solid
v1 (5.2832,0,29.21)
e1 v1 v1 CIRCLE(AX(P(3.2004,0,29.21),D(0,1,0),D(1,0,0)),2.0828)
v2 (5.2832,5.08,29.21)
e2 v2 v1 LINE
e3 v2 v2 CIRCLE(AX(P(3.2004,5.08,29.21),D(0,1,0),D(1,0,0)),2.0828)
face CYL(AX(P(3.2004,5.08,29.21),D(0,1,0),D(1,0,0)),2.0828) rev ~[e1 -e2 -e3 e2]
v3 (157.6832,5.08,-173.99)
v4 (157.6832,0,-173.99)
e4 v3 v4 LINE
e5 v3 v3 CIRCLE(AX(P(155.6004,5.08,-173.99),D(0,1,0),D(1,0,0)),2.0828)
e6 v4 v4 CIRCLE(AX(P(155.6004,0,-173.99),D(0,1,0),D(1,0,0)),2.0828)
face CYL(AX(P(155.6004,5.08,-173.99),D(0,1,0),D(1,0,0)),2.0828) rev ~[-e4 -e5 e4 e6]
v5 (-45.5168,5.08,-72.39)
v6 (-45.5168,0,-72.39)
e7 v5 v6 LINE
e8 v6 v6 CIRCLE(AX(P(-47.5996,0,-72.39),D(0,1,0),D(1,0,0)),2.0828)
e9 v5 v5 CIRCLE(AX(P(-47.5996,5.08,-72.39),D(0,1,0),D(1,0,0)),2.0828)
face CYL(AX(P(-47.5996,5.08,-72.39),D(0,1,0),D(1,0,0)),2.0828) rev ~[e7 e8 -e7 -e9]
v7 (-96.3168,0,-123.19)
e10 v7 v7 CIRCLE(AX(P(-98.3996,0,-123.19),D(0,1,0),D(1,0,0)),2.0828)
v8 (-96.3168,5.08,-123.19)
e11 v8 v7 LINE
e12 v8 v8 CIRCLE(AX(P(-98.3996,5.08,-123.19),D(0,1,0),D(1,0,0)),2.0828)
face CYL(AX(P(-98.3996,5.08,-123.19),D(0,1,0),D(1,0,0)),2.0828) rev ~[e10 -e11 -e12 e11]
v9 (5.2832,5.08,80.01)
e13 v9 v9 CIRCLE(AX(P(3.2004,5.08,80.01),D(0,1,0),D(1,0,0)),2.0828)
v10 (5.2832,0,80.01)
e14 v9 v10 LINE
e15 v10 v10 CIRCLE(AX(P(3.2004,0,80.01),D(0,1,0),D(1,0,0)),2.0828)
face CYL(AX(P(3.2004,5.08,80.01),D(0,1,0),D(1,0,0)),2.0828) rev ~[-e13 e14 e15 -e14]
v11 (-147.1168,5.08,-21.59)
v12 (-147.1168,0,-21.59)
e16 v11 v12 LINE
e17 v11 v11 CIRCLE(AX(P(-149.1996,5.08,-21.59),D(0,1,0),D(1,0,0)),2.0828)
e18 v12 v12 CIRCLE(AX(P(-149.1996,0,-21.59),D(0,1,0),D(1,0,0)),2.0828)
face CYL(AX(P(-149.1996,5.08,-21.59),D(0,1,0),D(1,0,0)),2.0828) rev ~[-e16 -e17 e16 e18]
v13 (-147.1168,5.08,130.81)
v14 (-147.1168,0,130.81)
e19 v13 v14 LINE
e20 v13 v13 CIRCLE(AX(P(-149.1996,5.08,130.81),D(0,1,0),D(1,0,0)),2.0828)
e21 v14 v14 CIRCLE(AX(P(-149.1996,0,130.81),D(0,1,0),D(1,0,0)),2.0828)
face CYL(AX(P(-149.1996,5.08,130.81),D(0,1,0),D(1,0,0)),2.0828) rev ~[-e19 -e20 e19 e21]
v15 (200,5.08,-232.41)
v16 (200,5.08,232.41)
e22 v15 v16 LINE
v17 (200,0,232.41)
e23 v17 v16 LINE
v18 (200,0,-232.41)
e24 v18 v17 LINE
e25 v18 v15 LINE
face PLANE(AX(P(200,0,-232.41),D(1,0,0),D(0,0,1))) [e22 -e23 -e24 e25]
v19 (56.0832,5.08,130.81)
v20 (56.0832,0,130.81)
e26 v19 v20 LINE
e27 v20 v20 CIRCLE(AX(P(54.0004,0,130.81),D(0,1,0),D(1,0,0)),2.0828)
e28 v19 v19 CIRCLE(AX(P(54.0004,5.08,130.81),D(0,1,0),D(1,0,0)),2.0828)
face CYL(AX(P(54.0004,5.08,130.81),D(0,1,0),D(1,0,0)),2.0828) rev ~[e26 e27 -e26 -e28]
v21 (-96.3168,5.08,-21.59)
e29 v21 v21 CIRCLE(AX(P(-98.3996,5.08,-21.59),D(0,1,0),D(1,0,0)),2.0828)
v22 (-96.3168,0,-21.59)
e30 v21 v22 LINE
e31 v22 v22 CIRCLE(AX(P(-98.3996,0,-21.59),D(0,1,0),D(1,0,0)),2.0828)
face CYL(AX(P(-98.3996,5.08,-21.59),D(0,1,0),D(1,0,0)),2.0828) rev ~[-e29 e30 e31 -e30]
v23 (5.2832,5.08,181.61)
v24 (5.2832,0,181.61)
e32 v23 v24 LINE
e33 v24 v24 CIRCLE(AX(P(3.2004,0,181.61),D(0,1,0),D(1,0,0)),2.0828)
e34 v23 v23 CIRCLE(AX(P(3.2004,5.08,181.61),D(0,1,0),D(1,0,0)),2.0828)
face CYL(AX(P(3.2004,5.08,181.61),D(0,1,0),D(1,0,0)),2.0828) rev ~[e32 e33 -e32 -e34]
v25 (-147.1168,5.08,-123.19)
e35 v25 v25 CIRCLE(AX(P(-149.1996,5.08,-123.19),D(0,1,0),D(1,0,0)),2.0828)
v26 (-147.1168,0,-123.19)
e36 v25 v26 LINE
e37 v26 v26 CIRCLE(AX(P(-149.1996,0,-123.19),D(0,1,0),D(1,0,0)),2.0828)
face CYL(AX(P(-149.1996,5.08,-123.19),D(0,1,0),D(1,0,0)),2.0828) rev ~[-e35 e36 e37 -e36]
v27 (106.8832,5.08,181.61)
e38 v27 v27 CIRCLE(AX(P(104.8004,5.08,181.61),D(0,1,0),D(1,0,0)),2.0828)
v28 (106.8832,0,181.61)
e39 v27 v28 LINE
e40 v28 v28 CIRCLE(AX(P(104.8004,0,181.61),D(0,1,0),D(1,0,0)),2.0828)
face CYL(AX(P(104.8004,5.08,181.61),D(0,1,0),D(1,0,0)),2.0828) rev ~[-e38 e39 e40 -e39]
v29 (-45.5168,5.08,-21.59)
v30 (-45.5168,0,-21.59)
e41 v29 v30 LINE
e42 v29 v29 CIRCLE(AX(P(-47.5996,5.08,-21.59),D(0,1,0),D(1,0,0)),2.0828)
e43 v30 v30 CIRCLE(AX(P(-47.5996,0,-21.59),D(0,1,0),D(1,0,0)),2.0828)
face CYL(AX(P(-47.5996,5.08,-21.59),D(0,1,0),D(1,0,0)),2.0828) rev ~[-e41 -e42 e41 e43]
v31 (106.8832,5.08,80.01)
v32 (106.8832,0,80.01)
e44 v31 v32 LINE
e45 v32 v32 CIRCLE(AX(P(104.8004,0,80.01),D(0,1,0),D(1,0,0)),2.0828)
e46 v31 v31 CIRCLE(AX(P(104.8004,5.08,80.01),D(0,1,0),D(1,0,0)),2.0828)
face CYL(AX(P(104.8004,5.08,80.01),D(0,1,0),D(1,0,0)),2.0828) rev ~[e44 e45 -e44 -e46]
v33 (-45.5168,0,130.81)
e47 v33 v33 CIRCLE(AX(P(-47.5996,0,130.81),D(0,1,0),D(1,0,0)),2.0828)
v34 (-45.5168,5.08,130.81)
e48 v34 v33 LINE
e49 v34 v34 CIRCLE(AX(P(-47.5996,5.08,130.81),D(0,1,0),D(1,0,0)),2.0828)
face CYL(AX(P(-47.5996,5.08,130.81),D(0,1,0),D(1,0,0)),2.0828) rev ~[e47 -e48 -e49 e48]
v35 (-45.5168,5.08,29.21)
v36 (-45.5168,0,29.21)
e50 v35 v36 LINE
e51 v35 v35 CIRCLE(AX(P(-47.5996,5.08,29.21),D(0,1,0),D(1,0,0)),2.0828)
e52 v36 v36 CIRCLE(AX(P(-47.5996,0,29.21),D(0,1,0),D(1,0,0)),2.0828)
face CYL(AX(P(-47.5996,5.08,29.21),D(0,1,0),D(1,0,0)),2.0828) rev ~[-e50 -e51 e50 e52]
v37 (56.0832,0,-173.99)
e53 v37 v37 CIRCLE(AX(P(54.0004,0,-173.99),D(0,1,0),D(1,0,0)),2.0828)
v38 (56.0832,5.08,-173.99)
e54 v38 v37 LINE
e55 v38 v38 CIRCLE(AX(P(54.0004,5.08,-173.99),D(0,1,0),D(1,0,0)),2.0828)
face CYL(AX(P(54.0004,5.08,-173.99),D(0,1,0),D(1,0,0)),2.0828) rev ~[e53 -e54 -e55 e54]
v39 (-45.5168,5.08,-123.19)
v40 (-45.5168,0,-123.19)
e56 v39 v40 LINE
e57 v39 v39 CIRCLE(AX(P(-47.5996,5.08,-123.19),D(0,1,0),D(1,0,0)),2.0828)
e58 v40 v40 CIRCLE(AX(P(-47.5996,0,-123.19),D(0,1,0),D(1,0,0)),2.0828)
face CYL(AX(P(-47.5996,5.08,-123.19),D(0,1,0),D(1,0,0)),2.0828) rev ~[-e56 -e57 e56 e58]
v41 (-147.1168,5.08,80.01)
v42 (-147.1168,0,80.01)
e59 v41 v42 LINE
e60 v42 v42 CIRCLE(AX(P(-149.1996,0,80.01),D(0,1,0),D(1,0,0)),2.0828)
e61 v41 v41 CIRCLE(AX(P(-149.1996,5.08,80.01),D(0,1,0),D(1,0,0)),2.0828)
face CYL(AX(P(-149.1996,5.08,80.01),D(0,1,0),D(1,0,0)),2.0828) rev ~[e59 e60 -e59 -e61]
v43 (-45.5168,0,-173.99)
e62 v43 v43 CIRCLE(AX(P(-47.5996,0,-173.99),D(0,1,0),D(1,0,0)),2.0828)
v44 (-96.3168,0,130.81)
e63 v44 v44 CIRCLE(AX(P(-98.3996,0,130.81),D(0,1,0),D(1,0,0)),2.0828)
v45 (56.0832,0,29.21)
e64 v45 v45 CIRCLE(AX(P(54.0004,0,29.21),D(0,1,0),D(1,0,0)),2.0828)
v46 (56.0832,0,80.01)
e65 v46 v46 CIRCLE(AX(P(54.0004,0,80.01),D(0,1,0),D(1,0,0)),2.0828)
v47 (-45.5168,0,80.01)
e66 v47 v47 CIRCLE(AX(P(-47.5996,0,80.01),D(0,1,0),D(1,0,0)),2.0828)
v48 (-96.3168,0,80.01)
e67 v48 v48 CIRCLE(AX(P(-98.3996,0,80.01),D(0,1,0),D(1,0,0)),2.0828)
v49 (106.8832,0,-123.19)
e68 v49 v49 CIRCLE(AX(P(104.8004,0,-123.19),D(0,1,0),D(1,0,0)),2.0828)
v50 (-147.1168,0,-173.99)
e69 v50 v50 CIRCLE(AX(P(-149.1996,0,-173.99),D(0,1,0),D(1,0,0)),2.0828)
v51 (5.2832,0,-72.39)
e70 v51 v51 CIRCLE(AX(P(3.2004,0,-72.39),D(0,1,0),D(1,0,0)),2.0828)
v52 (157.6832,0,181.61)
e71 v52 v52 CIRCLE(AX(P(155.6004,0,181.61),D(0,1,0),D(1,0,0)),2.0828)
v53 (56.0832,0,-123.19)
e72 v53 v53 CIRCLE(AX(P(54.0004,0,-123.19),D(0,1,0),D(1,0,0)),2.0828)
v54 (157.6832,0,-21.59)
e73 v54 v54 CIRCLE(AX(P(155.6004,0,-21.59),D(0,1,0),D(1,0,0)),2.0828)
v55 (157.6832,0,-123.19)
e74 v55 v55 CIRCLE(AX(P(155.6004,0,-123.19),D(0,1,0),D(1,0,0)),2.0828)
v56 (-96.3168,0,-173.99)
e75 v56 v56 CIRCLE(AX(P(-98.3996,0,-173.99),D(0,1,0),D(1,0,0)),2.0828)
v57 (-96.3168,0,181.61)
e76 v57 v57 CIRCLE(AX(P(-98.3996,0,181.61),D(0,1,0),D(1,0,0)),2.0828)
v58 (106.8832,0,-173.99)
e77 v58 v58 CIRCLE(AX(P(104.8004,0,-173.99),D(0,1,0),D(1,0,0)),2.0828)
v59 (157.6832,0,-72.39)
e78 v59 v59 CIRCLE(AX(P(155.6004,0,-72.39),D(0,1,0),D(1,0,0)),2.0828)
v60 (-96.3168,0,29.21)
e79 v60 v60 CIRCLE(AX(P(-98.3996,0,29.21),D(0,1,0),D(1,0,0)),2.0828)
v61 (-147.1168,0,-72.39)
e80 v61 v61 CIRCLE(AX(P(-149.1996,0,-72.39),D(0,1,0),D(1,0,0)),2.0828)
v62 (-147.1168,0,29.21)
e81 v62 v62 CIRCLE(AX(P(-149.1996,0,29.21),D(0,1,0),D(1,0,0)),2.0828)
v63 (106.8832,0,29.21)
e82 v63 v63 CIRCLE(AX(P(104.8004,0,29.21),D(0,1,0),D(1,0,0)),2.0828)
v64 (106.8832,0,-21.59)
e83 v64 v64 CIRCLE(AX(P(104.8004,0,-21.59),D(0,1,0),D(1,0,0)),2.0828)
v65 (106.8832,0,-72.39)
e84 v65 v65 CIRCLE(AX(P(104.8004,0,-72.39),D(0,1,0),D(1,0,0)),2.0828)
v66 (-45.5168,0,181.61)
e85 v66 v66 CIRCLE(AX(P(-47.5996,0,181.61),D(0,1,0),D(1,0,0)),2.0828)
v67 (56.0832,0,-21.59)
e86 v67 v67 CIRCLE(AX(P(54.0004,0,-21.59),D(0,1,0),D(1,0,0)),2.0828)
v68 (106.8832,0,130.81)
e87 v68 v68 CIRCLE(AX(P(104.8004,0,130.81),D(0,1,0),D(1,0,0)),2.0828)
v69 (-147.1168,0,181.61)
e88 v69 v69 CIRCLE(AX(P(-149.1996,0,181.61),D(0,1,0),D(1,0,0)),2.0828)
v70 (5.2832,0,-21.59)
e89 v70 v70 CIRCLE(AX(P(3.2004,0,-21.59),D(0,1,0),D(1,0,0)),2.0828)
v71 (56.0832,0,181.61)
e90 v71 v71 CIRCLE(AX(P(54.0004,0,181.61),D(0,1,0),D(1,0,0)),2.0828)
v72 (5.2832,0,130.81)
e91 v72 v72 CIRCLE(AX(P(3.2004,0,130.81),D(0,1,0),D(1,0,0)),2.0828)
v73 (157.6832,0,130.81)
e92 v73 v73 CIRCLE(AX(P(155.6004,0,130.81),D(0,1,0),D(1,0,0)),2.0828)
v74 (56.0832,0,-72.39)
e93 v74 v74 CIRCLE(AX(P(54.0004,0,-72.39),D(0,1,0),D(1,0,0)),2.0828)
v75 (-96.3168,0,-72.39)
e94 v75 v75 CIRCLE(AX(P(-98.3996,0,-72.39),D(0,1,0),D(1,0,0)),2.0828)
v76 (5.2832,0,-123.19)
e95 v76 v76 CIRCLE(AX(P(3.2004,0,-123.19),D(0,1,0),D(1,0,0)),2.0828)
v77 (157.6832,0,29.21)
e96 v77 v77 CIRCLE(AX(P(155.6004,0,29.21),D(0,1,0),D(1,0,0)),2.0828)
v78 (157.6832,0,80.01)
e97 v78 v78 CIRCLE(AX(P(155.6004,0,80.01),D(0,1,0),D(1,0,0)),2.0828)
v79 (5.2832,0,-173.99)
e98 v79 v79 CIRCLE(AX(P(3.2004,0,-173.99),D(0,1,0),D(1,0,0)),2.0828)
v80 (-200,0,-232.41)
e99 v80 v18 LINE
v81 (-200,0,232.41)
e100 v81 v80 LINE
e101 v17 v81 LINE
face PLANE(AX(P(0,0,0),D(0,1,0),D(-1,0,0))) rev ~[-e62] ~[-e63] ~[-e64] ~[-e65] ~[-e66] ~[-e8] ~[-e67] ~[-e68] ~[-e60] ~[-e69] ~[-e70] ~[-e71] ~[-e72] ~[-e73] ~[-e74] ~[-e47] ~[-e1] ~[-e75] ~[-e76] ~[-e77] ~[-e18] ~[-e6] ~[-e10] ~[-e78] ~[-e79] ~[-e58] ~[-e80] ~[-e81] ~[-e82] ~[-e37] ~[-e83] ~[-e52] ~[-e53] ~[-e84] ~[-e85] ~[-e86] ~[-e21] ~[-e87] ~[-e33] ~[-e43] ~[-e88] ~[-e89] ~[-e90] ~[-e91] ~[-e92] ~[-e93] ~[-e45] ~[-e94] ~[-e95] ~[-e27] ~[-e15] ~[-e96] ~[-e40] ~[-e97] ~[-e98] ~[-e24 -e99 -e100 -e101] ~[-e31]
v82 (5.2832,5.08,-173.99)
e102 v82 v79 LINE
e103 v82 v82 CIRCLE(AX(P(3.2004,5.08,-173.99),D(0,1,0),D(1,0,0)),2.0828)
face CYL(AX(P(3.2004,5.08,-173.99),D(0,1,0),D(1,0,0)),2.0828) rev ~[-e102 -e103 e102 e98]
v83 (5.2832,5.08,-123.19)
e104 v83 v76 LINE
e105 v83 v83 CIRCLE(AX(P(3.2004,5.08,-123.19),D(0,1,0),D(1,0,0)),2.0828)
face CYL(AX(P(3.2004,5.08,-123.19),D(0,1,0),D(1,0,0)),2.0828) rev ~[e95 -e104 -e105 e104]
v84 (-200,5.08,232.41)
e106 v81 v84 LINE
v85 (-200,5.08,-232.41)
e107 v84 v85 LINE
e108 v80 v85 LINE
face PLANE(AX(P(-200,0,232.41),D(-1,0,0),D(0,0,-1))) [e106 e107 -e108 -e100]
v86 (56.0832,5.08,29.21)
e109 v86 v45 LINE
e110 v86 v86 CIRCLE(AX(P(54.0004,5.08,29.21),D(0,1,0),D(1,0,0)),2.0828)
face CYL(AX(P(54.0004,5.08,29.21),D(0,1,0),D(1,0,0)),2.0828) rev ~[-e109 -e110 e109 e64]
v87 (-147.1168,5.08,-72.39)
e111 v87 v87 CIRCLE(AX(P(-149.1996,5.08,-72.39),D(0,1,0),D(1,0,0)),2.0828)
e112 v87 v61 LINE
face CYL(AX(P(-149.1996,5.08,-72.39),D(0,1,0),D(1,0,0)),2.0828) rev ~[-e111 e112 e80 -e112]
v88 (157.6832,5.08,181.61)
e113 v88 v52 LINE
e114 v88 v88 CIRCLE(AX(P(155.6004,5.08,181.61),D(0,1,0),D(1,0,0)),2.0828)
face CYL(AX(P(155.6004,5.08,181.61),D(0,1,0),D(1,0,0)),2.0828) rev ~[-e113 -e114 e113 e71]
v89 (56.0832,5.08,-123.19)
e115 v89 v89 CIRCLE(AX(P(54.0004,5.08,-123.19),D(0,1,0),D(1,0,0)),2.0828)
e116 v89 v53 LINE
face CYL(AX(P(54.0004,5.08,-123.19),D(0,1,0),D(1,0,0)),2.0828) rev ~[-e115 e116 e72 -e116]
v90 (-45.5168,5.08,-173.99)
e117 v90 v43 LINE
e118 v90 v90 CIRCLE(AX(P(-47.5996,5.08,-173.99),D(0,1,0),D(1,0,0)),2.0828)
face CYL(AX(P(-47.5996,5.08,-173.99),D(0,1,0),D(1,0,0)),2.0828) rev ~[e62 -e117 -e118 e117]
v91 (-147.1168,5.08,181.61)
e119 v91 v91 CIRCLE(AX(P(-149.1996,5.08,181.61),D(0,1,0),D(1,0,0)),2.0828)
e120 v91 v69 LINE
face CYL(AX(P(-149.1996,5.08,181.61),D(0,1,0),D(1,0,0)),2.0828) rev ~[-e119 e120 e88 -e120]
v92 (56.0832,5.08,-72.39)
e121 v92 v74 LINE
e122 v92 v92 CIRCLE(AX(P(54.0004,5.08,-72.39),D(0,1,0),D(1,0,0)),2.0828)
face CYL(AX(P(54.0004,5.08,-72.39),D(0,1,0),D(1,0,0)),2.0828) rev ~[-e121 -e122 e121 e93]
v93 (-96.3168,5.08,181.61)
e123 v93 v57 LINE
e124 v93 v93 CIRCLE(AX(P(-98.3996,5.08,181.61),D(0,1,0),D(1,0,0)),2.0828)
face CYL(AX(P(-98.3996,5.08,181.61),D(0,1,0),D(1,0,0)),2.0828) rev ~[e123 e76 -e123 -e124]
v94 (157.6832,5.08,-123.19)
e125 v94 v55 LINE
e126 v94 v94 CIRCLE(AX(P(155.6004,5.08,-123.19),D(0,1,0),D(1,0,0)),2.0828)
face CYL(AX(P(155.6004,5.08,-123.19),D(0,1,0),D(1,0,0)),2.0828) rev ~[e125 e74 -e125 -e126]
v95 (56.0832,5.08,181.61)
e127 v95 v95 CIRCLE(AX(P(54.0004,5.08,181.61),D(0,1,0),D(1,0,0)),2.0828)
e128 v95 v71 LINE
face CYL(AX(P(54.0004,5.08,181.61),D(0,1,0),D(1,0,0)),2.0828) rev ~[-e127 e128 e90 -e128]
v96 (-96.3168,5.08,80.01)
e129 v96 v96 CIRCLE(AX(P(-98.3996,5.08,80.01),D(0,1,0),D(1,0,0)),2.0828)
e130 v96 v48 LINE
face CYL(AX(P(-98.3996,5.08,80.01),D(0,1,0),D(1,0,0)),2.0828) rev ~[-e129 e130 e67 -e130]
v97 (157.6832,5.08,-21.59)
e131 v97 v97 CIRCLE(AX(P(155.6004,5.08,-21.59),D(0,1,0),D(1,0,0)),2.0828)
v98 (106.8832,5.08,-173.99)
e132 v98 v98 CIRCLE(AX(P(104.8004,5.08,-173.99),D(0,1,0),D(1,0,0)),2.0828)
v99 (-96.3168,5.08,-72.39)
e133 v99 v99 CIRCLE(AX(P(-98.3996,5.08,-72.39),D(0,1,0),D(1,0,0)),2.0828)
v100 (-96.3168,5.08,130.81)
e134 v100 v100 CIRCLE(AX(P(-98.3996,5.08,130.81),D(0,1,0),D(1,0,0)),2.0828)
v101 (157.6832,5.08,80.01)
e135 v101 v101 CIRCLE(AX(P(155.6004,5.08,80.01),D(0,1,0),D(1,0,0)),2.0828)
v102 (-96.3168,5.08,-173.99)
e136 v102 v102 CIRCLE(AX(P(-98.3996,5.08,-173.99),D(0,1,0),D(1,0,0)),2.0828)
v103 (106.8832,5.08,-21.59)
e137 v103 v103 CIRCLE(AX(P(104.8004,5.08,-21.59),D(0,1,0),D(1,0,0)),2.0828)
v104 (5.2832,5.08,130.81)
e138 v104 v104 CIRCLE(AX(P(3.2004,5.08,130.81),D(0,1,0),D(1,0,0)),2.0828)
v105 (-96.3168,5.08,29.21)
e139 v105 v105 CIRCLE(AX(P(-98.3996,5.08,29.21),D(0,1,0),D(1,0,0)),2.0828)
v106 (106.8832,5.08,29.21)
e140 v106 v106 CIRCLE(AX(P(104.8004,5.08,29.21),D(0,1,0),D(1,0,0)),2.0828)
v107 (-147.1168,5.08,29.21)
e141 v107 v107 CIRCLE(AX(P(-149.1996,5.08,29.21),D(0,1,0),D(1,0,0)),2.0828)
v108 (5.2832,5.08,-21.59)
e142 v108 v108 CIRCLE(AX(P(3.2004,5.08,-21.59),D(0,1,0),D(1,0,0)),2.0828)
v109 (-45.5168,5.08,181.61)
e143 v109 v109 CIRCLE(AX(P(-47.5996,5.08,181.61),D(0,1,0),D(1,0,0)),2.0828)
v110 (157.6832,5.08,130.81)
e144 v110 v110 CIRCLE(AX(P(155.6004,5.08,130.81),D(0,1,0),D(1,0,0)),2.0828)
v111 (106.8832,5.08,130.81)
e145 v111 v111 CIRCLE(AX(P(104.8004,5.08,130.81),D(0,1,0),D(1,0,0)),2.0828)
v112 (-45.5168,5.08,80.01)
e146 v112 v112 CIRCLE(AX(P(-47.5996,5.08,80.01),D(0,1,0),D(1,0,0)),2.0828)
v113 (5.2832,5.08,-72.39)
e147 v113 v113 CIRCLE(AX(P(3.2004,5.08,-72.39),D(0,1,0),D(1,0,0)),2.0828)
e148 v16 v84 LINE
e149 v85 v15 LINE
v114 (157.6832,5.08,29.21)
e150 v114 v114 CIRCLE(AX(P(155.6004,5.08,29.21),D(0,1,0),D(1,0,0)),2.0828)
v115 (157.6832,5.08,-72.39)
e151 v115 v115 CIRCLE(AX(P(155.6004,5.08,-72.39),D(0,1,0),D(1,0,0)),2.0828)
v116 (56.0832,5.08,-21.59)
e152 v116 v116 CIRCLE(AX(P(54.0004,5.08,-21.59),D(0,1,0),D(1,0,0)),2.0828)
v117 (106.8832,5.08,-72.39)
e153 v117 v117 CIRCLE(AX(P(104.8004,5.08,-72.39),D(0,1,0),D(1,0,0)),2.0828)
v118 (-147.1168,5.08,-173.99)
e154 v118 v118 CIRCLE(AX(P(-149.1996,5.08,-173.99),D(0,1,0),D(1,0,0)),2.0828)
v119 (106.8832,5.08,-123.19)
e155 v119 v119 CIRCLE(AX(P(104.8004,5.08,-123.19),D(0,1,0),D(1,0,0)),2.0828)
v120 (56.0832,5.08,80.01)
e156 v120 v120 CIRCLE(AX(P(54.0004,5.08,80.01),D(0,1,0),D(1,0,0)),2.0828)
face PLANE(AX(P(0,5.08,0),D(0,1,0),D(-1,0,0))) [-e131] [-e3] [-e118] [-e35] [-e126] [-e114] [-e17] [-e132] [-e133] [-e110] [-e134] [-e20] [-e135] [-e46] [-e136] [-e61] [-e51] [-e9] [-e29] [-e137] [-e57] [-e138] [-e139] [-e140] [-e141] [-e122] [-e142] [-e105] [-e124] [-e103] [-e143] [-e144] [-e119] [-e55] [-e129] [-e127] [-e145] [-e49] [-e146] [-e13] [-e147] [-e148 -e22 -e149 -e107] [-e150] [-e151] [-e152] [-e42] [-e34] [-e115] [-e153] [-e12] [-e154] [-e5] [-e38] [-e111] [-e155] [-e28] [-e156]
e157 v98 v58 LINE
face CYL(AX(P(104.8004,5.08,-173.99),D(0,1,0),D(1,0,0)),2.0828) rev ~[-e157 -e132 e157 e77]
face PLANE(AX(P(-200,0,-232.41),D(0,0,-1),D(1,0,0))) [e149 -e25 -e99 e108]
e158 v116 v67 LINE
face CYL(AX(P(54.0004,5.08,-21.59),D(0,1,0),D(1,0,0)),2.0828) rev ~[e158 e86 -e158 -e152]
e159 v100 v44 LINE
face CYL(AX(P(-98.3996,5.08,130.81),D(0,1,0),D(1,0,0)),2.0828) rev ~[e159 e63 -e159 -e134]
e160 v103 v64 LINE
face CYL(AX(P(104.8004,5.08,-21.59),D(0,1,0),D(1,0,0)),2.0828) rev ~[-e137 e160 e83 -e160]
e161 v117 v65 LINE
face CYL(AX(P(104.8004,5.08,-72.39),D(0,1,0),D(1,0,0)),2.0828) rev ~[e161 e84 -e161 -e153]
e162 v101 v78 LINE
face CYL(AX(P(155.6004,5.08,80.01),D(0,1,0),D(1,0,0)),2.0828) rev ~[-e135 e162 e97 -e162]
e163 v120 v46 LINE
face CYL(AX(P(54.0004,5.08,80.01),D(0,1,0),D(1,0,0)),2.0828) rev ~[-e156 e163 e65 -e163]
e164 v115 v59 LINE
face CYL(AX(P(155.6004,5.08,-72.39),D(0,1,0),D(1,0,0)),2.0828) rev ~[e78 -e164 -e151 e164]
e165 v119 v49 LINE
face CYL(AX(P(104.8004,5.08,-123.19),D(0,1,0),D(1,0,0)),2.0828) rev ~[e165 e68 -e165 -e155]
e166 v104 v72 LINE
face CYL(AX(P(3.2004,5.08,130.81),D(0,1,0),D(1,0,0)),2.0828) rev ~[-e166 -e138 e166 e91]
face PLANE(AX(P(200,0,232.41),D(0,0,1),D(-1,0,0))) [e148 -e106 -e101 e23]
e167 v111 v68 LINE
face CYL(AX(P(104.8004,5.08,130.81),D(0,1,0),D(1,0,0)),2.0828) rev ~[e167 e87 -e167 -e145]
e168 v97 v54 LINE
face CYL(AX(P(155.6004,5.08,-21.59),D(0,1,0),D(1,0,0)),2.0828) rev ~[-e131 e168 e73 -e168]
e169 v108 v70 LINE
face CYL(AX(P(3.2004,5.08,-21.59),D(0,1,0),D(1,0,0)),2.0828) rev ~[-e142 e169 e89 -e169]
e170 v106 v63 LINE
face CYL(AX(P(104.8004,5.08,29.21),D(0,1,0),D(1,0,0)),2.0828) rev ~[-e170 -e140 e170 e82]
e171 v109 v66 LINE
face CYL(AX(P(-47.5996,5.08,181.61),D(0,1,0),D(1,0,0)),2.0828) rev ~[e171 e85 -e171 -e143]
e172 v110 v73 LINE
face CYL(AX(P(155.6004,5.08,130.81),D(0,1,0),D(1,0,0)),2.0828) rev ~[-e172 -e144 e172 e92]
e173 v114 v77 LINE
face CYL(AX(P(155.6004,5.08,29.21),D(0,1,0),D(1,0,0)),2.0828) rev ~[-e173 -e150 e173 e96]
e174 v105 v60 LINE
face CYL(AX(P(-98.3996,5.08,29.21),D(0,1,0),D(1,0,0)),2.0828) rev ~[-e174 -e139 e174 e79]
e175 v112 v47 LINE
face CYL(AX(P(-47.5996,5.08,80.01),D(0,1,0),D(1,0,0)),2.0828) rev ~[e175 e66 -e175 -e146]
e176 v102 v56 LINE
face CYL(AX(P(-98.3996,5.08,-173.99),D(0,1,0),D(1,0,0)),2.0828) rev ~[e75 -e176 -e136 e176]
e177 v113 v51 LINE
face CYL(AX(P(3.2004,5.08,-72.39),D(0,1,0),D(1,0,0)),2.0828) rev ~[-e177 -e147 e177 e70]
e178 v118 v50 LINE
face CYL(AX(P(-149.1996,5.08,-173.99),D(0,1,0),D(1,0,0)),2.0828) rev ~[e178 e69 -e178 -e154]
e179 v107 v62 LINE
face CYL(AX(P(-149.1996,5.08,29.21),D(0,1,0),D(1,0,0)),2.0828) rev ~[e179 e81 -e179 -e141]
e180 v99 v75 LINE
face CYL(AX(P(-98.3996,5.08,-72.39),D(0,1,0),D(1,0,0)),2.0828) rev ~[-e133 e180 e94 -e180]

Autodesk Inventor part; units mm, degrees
ref_plane "YZ Plane" through (0, 0, 0) normal (1, 0, 0) x (0, 1, 0)
ref_plane "XZ Plane" through (0, 0, 0) normal (0, 1, 0) x (-1, 0, 0)
ref_plane "XY Plane" through (0, 0, 0) normal (0, 0, 1) x (1, 0, 0)
sketch "Sketch1" plane through (0, 0, 0) normal (0, 1, 0) x (-1, 0, 0)
  line L0 (-200, 232.41) -> (200, 232.41)
  line L1 (200, 232.41) -> (200, -232.41)
  line L2 (200, -232.41) -> (-200, -232.41)
  line L3 (-200, -232.41) -> (-200, 232.41)
  line L4 (-200, 232.41) -> (200, -232.41) construction
  line L5 (200, 232.41) -> (-200, -232.41) construction
  point P0 (0, 0)
  dimension "d0" = 400
  dimension "d1" = 464.82
extrude "Extrusion1" add sketch "Sketch1" along normal blind 5.08
sketch "Sketch2" plane through (0, 5.08, 0) normal (0, 1, 0) x (1, 0, 0)
  circle A0 centre (-149.1996, -181.61) radius 2.0828
  circle A1 centre (-149.1996, -130.81) radius 2.0828
  circle A2 centre (-149.1996, -80.01) radius 2.0828
  circle A3 centre (-149.1996, -29.21) radius 2.0828
  circle A4 centre (-149.1996, 21.59) radius 2.0828
  circle A5 centre (-149.1996, 72.39) radius 2.0828
  circle A6 centre (-149.1996, 123.19) radius 2.0828
  circle A7 centre (-149.1996, 173.99) radius 2.0828
  circle A8 centre (-98.3996, -181.61) radius 2.0828
  circle A9 centre (-98.3996, -130.81) radius 2.0828
  circle A10 centre (-98.3996, -80.01) radius 2.0828
  circle A11 centre (-98.3996, -29.21) radius 2.0828
  circle A12 centre (-98.3996, 21.59) radius 2.0828
  circle A13 centre (-98.3996, 72.39) radius 2.0828
  circle A14 centre (-98.3996, 123.19) radius 2.0828
  circle A15 centre (-98.3996, 173.99) radius 2.0828
  circle A16 centre (-47.5996, -181.61) radius 2.0828
  circle A17 centre (-47.5996, -130.81) radius 2.0828
  circle A18 centre (-47.5996, -80.01) radius 2.0828
  circle A19 centre (-47.5996, -29.21) radius 2.0828
  circle A20 centre (-47.5996, 21.59) radius 2.0828
  circle A21 centre (-47.5996, 72.39) radius 2.0828
  circle A22 centre (-47.5996, 123.19) radius 2.0828
  circle A23 centre (-47.5996, 173.99) radius 2.0828
  circle A24 centre (3.2004, 173.99) radius 2.0828
  circle A25 centre (3.2004, 123.19) radius 2.0828
  circle A26 centre (3.2004, 72.39) radius 2.0828
  circle A27 centre (3.2004, 21.59) radius 2.0828
  circle A28 centre (3.2004, -29.21) radius 2.0828
  circle A29 centre (3.2004, -80.01) radius 2.0828
  circle A30 centre (3.2004, -130.81) radius 2.0828
  circle A31 centre (3.2004, -181.61) radius 2.0828
  circle A32 centre (54.0004, -181.61) radius 2.0828
  circle A33 centre (54.0004, -130.81) radius 2.0828
  circle A34 centre (54.0004, -80.01) radius 2.0828
  circle A35 centre (54.0004, -29.21) radius 2.0828
  circle A36 centre (54.0004, 21.59) radius 2.0828
  circle A37 centre (54.0004, 72.39) radius 2.0828
  circle A38 centre (54.0004, 123.19) radius 2.0828
  circle A39 centre (54.0004, 173.99) radius 2.0828
  circle A40 centre (104.8004, 173.99) radius 2.0828
  circle A41 centre (104.8004, 123.19) radius 2.0828
  circle A42 centre (104.8004, 72.39) radius 2.0828
  circle A43 centre (104.8004, 21.59) radius 2.0828
  circle A44 centre (104.8004, -29.21) radius 2.0828
  circle A45 centre (104.8004, -80.01) radius 2.0828
  circle A46 centre (104.8004, -130.81) radius 2.0828
  circle A47 centre (104.8004, -181.61) radius 2.0828
  circle A48 centre (155.6004, -181.61) radius 2.0828
  circle A49 centre (155.6004, -130.81) radius 2.0828
  circle A50 centre (155.6004, -80.01) radius 2.0828
  circle A51 centre (155.6004, -29.21) radius 2.0828
  circle A52 centre (155.6004, 21.59) radius 2.0828
  circle A53 centre (155.6004, 72.39) radius 2.0828
  circle A54 centre (155.6004, 123.19) radius 2.0828
  circle A55 centre (155.6004, 173.99) radius 2.0828
  point P0 (0, 0)
  dimension "d4" = 4.1656
  dimension "d5" = 4.1656
  dimension "d6" = 4.1656
  dimension "d7" = 4.1656
  dimension "d8" = 4.1656
  dimension "d9" = 4.1656
  dimension "d10" = 4.1656
  dimension "d11" = 4.1656
  dimension "d12" = 4.1656
  dimension "d13" = 4.1656
  dimension "d14" = 4.1656
  dimension "d15" = 4.1656
  dimension "d16" = 4.1656
  dimension "d17" = 4.1656
  dimension "d18" = 4.1656
  dimension "d19" = 4.1656
  dimension "d20" = 4.1656
  dimension "d21" = 4.1656
  dimension "d22" = 4.1656
  dimension "d23" = 4.1656
  dimension "d24" = 4.1656
  dimension "d25" = 4.1656
  dimension "d26" = 4.1656
  dimension "d27" = 4.1656
  dimension "d28" = 4.1656
  dimension "d29" = 4.1656
  dimension "d30" = 4.1656
  dimension "d31" = 4.1656
  dimension "d32" = 4.1656
  dimension "d33" = 4.1656
  dimension "d34" = 4.1656
  dimension "d35" = 4.1656
  dimension "d36" = 4.1656
  dimension "d37" = 4.1656
  dimension "d38" = 4.1656
  dimension "d39" = 4.1656
  dimension "d40" = 4.1656
  dimension "d41" = 4.1656
  dimension "d42" = 4.1656
  dimension "d43" = 4.1656
  dimension "d44" = 4.1656
  dimension "d45" = 4.1656
  dimension "d46" = 4.1656
  dimension "d47" = 4.1656
  dimension "d48" = 4.1656
  dimension "d49" = 4.1656
  dimension "d50" = 4.1656
  dimension "d51" = 4.1656
  dimension "d52" = 4.1656
  dimension "d53" = 4.1656
  dimension "d54" = 4.1656
  dimension "d55" = 4.1656
  dimension "d56" = 4.1656
  dimension "d57" = 4.1656
  dimension "d58" = 4.1656
  dimension "d59" = 4.1656
extrude "Extrusion2" cut sketch "Sketch2" against normal through all
properties part number "Drawer"
